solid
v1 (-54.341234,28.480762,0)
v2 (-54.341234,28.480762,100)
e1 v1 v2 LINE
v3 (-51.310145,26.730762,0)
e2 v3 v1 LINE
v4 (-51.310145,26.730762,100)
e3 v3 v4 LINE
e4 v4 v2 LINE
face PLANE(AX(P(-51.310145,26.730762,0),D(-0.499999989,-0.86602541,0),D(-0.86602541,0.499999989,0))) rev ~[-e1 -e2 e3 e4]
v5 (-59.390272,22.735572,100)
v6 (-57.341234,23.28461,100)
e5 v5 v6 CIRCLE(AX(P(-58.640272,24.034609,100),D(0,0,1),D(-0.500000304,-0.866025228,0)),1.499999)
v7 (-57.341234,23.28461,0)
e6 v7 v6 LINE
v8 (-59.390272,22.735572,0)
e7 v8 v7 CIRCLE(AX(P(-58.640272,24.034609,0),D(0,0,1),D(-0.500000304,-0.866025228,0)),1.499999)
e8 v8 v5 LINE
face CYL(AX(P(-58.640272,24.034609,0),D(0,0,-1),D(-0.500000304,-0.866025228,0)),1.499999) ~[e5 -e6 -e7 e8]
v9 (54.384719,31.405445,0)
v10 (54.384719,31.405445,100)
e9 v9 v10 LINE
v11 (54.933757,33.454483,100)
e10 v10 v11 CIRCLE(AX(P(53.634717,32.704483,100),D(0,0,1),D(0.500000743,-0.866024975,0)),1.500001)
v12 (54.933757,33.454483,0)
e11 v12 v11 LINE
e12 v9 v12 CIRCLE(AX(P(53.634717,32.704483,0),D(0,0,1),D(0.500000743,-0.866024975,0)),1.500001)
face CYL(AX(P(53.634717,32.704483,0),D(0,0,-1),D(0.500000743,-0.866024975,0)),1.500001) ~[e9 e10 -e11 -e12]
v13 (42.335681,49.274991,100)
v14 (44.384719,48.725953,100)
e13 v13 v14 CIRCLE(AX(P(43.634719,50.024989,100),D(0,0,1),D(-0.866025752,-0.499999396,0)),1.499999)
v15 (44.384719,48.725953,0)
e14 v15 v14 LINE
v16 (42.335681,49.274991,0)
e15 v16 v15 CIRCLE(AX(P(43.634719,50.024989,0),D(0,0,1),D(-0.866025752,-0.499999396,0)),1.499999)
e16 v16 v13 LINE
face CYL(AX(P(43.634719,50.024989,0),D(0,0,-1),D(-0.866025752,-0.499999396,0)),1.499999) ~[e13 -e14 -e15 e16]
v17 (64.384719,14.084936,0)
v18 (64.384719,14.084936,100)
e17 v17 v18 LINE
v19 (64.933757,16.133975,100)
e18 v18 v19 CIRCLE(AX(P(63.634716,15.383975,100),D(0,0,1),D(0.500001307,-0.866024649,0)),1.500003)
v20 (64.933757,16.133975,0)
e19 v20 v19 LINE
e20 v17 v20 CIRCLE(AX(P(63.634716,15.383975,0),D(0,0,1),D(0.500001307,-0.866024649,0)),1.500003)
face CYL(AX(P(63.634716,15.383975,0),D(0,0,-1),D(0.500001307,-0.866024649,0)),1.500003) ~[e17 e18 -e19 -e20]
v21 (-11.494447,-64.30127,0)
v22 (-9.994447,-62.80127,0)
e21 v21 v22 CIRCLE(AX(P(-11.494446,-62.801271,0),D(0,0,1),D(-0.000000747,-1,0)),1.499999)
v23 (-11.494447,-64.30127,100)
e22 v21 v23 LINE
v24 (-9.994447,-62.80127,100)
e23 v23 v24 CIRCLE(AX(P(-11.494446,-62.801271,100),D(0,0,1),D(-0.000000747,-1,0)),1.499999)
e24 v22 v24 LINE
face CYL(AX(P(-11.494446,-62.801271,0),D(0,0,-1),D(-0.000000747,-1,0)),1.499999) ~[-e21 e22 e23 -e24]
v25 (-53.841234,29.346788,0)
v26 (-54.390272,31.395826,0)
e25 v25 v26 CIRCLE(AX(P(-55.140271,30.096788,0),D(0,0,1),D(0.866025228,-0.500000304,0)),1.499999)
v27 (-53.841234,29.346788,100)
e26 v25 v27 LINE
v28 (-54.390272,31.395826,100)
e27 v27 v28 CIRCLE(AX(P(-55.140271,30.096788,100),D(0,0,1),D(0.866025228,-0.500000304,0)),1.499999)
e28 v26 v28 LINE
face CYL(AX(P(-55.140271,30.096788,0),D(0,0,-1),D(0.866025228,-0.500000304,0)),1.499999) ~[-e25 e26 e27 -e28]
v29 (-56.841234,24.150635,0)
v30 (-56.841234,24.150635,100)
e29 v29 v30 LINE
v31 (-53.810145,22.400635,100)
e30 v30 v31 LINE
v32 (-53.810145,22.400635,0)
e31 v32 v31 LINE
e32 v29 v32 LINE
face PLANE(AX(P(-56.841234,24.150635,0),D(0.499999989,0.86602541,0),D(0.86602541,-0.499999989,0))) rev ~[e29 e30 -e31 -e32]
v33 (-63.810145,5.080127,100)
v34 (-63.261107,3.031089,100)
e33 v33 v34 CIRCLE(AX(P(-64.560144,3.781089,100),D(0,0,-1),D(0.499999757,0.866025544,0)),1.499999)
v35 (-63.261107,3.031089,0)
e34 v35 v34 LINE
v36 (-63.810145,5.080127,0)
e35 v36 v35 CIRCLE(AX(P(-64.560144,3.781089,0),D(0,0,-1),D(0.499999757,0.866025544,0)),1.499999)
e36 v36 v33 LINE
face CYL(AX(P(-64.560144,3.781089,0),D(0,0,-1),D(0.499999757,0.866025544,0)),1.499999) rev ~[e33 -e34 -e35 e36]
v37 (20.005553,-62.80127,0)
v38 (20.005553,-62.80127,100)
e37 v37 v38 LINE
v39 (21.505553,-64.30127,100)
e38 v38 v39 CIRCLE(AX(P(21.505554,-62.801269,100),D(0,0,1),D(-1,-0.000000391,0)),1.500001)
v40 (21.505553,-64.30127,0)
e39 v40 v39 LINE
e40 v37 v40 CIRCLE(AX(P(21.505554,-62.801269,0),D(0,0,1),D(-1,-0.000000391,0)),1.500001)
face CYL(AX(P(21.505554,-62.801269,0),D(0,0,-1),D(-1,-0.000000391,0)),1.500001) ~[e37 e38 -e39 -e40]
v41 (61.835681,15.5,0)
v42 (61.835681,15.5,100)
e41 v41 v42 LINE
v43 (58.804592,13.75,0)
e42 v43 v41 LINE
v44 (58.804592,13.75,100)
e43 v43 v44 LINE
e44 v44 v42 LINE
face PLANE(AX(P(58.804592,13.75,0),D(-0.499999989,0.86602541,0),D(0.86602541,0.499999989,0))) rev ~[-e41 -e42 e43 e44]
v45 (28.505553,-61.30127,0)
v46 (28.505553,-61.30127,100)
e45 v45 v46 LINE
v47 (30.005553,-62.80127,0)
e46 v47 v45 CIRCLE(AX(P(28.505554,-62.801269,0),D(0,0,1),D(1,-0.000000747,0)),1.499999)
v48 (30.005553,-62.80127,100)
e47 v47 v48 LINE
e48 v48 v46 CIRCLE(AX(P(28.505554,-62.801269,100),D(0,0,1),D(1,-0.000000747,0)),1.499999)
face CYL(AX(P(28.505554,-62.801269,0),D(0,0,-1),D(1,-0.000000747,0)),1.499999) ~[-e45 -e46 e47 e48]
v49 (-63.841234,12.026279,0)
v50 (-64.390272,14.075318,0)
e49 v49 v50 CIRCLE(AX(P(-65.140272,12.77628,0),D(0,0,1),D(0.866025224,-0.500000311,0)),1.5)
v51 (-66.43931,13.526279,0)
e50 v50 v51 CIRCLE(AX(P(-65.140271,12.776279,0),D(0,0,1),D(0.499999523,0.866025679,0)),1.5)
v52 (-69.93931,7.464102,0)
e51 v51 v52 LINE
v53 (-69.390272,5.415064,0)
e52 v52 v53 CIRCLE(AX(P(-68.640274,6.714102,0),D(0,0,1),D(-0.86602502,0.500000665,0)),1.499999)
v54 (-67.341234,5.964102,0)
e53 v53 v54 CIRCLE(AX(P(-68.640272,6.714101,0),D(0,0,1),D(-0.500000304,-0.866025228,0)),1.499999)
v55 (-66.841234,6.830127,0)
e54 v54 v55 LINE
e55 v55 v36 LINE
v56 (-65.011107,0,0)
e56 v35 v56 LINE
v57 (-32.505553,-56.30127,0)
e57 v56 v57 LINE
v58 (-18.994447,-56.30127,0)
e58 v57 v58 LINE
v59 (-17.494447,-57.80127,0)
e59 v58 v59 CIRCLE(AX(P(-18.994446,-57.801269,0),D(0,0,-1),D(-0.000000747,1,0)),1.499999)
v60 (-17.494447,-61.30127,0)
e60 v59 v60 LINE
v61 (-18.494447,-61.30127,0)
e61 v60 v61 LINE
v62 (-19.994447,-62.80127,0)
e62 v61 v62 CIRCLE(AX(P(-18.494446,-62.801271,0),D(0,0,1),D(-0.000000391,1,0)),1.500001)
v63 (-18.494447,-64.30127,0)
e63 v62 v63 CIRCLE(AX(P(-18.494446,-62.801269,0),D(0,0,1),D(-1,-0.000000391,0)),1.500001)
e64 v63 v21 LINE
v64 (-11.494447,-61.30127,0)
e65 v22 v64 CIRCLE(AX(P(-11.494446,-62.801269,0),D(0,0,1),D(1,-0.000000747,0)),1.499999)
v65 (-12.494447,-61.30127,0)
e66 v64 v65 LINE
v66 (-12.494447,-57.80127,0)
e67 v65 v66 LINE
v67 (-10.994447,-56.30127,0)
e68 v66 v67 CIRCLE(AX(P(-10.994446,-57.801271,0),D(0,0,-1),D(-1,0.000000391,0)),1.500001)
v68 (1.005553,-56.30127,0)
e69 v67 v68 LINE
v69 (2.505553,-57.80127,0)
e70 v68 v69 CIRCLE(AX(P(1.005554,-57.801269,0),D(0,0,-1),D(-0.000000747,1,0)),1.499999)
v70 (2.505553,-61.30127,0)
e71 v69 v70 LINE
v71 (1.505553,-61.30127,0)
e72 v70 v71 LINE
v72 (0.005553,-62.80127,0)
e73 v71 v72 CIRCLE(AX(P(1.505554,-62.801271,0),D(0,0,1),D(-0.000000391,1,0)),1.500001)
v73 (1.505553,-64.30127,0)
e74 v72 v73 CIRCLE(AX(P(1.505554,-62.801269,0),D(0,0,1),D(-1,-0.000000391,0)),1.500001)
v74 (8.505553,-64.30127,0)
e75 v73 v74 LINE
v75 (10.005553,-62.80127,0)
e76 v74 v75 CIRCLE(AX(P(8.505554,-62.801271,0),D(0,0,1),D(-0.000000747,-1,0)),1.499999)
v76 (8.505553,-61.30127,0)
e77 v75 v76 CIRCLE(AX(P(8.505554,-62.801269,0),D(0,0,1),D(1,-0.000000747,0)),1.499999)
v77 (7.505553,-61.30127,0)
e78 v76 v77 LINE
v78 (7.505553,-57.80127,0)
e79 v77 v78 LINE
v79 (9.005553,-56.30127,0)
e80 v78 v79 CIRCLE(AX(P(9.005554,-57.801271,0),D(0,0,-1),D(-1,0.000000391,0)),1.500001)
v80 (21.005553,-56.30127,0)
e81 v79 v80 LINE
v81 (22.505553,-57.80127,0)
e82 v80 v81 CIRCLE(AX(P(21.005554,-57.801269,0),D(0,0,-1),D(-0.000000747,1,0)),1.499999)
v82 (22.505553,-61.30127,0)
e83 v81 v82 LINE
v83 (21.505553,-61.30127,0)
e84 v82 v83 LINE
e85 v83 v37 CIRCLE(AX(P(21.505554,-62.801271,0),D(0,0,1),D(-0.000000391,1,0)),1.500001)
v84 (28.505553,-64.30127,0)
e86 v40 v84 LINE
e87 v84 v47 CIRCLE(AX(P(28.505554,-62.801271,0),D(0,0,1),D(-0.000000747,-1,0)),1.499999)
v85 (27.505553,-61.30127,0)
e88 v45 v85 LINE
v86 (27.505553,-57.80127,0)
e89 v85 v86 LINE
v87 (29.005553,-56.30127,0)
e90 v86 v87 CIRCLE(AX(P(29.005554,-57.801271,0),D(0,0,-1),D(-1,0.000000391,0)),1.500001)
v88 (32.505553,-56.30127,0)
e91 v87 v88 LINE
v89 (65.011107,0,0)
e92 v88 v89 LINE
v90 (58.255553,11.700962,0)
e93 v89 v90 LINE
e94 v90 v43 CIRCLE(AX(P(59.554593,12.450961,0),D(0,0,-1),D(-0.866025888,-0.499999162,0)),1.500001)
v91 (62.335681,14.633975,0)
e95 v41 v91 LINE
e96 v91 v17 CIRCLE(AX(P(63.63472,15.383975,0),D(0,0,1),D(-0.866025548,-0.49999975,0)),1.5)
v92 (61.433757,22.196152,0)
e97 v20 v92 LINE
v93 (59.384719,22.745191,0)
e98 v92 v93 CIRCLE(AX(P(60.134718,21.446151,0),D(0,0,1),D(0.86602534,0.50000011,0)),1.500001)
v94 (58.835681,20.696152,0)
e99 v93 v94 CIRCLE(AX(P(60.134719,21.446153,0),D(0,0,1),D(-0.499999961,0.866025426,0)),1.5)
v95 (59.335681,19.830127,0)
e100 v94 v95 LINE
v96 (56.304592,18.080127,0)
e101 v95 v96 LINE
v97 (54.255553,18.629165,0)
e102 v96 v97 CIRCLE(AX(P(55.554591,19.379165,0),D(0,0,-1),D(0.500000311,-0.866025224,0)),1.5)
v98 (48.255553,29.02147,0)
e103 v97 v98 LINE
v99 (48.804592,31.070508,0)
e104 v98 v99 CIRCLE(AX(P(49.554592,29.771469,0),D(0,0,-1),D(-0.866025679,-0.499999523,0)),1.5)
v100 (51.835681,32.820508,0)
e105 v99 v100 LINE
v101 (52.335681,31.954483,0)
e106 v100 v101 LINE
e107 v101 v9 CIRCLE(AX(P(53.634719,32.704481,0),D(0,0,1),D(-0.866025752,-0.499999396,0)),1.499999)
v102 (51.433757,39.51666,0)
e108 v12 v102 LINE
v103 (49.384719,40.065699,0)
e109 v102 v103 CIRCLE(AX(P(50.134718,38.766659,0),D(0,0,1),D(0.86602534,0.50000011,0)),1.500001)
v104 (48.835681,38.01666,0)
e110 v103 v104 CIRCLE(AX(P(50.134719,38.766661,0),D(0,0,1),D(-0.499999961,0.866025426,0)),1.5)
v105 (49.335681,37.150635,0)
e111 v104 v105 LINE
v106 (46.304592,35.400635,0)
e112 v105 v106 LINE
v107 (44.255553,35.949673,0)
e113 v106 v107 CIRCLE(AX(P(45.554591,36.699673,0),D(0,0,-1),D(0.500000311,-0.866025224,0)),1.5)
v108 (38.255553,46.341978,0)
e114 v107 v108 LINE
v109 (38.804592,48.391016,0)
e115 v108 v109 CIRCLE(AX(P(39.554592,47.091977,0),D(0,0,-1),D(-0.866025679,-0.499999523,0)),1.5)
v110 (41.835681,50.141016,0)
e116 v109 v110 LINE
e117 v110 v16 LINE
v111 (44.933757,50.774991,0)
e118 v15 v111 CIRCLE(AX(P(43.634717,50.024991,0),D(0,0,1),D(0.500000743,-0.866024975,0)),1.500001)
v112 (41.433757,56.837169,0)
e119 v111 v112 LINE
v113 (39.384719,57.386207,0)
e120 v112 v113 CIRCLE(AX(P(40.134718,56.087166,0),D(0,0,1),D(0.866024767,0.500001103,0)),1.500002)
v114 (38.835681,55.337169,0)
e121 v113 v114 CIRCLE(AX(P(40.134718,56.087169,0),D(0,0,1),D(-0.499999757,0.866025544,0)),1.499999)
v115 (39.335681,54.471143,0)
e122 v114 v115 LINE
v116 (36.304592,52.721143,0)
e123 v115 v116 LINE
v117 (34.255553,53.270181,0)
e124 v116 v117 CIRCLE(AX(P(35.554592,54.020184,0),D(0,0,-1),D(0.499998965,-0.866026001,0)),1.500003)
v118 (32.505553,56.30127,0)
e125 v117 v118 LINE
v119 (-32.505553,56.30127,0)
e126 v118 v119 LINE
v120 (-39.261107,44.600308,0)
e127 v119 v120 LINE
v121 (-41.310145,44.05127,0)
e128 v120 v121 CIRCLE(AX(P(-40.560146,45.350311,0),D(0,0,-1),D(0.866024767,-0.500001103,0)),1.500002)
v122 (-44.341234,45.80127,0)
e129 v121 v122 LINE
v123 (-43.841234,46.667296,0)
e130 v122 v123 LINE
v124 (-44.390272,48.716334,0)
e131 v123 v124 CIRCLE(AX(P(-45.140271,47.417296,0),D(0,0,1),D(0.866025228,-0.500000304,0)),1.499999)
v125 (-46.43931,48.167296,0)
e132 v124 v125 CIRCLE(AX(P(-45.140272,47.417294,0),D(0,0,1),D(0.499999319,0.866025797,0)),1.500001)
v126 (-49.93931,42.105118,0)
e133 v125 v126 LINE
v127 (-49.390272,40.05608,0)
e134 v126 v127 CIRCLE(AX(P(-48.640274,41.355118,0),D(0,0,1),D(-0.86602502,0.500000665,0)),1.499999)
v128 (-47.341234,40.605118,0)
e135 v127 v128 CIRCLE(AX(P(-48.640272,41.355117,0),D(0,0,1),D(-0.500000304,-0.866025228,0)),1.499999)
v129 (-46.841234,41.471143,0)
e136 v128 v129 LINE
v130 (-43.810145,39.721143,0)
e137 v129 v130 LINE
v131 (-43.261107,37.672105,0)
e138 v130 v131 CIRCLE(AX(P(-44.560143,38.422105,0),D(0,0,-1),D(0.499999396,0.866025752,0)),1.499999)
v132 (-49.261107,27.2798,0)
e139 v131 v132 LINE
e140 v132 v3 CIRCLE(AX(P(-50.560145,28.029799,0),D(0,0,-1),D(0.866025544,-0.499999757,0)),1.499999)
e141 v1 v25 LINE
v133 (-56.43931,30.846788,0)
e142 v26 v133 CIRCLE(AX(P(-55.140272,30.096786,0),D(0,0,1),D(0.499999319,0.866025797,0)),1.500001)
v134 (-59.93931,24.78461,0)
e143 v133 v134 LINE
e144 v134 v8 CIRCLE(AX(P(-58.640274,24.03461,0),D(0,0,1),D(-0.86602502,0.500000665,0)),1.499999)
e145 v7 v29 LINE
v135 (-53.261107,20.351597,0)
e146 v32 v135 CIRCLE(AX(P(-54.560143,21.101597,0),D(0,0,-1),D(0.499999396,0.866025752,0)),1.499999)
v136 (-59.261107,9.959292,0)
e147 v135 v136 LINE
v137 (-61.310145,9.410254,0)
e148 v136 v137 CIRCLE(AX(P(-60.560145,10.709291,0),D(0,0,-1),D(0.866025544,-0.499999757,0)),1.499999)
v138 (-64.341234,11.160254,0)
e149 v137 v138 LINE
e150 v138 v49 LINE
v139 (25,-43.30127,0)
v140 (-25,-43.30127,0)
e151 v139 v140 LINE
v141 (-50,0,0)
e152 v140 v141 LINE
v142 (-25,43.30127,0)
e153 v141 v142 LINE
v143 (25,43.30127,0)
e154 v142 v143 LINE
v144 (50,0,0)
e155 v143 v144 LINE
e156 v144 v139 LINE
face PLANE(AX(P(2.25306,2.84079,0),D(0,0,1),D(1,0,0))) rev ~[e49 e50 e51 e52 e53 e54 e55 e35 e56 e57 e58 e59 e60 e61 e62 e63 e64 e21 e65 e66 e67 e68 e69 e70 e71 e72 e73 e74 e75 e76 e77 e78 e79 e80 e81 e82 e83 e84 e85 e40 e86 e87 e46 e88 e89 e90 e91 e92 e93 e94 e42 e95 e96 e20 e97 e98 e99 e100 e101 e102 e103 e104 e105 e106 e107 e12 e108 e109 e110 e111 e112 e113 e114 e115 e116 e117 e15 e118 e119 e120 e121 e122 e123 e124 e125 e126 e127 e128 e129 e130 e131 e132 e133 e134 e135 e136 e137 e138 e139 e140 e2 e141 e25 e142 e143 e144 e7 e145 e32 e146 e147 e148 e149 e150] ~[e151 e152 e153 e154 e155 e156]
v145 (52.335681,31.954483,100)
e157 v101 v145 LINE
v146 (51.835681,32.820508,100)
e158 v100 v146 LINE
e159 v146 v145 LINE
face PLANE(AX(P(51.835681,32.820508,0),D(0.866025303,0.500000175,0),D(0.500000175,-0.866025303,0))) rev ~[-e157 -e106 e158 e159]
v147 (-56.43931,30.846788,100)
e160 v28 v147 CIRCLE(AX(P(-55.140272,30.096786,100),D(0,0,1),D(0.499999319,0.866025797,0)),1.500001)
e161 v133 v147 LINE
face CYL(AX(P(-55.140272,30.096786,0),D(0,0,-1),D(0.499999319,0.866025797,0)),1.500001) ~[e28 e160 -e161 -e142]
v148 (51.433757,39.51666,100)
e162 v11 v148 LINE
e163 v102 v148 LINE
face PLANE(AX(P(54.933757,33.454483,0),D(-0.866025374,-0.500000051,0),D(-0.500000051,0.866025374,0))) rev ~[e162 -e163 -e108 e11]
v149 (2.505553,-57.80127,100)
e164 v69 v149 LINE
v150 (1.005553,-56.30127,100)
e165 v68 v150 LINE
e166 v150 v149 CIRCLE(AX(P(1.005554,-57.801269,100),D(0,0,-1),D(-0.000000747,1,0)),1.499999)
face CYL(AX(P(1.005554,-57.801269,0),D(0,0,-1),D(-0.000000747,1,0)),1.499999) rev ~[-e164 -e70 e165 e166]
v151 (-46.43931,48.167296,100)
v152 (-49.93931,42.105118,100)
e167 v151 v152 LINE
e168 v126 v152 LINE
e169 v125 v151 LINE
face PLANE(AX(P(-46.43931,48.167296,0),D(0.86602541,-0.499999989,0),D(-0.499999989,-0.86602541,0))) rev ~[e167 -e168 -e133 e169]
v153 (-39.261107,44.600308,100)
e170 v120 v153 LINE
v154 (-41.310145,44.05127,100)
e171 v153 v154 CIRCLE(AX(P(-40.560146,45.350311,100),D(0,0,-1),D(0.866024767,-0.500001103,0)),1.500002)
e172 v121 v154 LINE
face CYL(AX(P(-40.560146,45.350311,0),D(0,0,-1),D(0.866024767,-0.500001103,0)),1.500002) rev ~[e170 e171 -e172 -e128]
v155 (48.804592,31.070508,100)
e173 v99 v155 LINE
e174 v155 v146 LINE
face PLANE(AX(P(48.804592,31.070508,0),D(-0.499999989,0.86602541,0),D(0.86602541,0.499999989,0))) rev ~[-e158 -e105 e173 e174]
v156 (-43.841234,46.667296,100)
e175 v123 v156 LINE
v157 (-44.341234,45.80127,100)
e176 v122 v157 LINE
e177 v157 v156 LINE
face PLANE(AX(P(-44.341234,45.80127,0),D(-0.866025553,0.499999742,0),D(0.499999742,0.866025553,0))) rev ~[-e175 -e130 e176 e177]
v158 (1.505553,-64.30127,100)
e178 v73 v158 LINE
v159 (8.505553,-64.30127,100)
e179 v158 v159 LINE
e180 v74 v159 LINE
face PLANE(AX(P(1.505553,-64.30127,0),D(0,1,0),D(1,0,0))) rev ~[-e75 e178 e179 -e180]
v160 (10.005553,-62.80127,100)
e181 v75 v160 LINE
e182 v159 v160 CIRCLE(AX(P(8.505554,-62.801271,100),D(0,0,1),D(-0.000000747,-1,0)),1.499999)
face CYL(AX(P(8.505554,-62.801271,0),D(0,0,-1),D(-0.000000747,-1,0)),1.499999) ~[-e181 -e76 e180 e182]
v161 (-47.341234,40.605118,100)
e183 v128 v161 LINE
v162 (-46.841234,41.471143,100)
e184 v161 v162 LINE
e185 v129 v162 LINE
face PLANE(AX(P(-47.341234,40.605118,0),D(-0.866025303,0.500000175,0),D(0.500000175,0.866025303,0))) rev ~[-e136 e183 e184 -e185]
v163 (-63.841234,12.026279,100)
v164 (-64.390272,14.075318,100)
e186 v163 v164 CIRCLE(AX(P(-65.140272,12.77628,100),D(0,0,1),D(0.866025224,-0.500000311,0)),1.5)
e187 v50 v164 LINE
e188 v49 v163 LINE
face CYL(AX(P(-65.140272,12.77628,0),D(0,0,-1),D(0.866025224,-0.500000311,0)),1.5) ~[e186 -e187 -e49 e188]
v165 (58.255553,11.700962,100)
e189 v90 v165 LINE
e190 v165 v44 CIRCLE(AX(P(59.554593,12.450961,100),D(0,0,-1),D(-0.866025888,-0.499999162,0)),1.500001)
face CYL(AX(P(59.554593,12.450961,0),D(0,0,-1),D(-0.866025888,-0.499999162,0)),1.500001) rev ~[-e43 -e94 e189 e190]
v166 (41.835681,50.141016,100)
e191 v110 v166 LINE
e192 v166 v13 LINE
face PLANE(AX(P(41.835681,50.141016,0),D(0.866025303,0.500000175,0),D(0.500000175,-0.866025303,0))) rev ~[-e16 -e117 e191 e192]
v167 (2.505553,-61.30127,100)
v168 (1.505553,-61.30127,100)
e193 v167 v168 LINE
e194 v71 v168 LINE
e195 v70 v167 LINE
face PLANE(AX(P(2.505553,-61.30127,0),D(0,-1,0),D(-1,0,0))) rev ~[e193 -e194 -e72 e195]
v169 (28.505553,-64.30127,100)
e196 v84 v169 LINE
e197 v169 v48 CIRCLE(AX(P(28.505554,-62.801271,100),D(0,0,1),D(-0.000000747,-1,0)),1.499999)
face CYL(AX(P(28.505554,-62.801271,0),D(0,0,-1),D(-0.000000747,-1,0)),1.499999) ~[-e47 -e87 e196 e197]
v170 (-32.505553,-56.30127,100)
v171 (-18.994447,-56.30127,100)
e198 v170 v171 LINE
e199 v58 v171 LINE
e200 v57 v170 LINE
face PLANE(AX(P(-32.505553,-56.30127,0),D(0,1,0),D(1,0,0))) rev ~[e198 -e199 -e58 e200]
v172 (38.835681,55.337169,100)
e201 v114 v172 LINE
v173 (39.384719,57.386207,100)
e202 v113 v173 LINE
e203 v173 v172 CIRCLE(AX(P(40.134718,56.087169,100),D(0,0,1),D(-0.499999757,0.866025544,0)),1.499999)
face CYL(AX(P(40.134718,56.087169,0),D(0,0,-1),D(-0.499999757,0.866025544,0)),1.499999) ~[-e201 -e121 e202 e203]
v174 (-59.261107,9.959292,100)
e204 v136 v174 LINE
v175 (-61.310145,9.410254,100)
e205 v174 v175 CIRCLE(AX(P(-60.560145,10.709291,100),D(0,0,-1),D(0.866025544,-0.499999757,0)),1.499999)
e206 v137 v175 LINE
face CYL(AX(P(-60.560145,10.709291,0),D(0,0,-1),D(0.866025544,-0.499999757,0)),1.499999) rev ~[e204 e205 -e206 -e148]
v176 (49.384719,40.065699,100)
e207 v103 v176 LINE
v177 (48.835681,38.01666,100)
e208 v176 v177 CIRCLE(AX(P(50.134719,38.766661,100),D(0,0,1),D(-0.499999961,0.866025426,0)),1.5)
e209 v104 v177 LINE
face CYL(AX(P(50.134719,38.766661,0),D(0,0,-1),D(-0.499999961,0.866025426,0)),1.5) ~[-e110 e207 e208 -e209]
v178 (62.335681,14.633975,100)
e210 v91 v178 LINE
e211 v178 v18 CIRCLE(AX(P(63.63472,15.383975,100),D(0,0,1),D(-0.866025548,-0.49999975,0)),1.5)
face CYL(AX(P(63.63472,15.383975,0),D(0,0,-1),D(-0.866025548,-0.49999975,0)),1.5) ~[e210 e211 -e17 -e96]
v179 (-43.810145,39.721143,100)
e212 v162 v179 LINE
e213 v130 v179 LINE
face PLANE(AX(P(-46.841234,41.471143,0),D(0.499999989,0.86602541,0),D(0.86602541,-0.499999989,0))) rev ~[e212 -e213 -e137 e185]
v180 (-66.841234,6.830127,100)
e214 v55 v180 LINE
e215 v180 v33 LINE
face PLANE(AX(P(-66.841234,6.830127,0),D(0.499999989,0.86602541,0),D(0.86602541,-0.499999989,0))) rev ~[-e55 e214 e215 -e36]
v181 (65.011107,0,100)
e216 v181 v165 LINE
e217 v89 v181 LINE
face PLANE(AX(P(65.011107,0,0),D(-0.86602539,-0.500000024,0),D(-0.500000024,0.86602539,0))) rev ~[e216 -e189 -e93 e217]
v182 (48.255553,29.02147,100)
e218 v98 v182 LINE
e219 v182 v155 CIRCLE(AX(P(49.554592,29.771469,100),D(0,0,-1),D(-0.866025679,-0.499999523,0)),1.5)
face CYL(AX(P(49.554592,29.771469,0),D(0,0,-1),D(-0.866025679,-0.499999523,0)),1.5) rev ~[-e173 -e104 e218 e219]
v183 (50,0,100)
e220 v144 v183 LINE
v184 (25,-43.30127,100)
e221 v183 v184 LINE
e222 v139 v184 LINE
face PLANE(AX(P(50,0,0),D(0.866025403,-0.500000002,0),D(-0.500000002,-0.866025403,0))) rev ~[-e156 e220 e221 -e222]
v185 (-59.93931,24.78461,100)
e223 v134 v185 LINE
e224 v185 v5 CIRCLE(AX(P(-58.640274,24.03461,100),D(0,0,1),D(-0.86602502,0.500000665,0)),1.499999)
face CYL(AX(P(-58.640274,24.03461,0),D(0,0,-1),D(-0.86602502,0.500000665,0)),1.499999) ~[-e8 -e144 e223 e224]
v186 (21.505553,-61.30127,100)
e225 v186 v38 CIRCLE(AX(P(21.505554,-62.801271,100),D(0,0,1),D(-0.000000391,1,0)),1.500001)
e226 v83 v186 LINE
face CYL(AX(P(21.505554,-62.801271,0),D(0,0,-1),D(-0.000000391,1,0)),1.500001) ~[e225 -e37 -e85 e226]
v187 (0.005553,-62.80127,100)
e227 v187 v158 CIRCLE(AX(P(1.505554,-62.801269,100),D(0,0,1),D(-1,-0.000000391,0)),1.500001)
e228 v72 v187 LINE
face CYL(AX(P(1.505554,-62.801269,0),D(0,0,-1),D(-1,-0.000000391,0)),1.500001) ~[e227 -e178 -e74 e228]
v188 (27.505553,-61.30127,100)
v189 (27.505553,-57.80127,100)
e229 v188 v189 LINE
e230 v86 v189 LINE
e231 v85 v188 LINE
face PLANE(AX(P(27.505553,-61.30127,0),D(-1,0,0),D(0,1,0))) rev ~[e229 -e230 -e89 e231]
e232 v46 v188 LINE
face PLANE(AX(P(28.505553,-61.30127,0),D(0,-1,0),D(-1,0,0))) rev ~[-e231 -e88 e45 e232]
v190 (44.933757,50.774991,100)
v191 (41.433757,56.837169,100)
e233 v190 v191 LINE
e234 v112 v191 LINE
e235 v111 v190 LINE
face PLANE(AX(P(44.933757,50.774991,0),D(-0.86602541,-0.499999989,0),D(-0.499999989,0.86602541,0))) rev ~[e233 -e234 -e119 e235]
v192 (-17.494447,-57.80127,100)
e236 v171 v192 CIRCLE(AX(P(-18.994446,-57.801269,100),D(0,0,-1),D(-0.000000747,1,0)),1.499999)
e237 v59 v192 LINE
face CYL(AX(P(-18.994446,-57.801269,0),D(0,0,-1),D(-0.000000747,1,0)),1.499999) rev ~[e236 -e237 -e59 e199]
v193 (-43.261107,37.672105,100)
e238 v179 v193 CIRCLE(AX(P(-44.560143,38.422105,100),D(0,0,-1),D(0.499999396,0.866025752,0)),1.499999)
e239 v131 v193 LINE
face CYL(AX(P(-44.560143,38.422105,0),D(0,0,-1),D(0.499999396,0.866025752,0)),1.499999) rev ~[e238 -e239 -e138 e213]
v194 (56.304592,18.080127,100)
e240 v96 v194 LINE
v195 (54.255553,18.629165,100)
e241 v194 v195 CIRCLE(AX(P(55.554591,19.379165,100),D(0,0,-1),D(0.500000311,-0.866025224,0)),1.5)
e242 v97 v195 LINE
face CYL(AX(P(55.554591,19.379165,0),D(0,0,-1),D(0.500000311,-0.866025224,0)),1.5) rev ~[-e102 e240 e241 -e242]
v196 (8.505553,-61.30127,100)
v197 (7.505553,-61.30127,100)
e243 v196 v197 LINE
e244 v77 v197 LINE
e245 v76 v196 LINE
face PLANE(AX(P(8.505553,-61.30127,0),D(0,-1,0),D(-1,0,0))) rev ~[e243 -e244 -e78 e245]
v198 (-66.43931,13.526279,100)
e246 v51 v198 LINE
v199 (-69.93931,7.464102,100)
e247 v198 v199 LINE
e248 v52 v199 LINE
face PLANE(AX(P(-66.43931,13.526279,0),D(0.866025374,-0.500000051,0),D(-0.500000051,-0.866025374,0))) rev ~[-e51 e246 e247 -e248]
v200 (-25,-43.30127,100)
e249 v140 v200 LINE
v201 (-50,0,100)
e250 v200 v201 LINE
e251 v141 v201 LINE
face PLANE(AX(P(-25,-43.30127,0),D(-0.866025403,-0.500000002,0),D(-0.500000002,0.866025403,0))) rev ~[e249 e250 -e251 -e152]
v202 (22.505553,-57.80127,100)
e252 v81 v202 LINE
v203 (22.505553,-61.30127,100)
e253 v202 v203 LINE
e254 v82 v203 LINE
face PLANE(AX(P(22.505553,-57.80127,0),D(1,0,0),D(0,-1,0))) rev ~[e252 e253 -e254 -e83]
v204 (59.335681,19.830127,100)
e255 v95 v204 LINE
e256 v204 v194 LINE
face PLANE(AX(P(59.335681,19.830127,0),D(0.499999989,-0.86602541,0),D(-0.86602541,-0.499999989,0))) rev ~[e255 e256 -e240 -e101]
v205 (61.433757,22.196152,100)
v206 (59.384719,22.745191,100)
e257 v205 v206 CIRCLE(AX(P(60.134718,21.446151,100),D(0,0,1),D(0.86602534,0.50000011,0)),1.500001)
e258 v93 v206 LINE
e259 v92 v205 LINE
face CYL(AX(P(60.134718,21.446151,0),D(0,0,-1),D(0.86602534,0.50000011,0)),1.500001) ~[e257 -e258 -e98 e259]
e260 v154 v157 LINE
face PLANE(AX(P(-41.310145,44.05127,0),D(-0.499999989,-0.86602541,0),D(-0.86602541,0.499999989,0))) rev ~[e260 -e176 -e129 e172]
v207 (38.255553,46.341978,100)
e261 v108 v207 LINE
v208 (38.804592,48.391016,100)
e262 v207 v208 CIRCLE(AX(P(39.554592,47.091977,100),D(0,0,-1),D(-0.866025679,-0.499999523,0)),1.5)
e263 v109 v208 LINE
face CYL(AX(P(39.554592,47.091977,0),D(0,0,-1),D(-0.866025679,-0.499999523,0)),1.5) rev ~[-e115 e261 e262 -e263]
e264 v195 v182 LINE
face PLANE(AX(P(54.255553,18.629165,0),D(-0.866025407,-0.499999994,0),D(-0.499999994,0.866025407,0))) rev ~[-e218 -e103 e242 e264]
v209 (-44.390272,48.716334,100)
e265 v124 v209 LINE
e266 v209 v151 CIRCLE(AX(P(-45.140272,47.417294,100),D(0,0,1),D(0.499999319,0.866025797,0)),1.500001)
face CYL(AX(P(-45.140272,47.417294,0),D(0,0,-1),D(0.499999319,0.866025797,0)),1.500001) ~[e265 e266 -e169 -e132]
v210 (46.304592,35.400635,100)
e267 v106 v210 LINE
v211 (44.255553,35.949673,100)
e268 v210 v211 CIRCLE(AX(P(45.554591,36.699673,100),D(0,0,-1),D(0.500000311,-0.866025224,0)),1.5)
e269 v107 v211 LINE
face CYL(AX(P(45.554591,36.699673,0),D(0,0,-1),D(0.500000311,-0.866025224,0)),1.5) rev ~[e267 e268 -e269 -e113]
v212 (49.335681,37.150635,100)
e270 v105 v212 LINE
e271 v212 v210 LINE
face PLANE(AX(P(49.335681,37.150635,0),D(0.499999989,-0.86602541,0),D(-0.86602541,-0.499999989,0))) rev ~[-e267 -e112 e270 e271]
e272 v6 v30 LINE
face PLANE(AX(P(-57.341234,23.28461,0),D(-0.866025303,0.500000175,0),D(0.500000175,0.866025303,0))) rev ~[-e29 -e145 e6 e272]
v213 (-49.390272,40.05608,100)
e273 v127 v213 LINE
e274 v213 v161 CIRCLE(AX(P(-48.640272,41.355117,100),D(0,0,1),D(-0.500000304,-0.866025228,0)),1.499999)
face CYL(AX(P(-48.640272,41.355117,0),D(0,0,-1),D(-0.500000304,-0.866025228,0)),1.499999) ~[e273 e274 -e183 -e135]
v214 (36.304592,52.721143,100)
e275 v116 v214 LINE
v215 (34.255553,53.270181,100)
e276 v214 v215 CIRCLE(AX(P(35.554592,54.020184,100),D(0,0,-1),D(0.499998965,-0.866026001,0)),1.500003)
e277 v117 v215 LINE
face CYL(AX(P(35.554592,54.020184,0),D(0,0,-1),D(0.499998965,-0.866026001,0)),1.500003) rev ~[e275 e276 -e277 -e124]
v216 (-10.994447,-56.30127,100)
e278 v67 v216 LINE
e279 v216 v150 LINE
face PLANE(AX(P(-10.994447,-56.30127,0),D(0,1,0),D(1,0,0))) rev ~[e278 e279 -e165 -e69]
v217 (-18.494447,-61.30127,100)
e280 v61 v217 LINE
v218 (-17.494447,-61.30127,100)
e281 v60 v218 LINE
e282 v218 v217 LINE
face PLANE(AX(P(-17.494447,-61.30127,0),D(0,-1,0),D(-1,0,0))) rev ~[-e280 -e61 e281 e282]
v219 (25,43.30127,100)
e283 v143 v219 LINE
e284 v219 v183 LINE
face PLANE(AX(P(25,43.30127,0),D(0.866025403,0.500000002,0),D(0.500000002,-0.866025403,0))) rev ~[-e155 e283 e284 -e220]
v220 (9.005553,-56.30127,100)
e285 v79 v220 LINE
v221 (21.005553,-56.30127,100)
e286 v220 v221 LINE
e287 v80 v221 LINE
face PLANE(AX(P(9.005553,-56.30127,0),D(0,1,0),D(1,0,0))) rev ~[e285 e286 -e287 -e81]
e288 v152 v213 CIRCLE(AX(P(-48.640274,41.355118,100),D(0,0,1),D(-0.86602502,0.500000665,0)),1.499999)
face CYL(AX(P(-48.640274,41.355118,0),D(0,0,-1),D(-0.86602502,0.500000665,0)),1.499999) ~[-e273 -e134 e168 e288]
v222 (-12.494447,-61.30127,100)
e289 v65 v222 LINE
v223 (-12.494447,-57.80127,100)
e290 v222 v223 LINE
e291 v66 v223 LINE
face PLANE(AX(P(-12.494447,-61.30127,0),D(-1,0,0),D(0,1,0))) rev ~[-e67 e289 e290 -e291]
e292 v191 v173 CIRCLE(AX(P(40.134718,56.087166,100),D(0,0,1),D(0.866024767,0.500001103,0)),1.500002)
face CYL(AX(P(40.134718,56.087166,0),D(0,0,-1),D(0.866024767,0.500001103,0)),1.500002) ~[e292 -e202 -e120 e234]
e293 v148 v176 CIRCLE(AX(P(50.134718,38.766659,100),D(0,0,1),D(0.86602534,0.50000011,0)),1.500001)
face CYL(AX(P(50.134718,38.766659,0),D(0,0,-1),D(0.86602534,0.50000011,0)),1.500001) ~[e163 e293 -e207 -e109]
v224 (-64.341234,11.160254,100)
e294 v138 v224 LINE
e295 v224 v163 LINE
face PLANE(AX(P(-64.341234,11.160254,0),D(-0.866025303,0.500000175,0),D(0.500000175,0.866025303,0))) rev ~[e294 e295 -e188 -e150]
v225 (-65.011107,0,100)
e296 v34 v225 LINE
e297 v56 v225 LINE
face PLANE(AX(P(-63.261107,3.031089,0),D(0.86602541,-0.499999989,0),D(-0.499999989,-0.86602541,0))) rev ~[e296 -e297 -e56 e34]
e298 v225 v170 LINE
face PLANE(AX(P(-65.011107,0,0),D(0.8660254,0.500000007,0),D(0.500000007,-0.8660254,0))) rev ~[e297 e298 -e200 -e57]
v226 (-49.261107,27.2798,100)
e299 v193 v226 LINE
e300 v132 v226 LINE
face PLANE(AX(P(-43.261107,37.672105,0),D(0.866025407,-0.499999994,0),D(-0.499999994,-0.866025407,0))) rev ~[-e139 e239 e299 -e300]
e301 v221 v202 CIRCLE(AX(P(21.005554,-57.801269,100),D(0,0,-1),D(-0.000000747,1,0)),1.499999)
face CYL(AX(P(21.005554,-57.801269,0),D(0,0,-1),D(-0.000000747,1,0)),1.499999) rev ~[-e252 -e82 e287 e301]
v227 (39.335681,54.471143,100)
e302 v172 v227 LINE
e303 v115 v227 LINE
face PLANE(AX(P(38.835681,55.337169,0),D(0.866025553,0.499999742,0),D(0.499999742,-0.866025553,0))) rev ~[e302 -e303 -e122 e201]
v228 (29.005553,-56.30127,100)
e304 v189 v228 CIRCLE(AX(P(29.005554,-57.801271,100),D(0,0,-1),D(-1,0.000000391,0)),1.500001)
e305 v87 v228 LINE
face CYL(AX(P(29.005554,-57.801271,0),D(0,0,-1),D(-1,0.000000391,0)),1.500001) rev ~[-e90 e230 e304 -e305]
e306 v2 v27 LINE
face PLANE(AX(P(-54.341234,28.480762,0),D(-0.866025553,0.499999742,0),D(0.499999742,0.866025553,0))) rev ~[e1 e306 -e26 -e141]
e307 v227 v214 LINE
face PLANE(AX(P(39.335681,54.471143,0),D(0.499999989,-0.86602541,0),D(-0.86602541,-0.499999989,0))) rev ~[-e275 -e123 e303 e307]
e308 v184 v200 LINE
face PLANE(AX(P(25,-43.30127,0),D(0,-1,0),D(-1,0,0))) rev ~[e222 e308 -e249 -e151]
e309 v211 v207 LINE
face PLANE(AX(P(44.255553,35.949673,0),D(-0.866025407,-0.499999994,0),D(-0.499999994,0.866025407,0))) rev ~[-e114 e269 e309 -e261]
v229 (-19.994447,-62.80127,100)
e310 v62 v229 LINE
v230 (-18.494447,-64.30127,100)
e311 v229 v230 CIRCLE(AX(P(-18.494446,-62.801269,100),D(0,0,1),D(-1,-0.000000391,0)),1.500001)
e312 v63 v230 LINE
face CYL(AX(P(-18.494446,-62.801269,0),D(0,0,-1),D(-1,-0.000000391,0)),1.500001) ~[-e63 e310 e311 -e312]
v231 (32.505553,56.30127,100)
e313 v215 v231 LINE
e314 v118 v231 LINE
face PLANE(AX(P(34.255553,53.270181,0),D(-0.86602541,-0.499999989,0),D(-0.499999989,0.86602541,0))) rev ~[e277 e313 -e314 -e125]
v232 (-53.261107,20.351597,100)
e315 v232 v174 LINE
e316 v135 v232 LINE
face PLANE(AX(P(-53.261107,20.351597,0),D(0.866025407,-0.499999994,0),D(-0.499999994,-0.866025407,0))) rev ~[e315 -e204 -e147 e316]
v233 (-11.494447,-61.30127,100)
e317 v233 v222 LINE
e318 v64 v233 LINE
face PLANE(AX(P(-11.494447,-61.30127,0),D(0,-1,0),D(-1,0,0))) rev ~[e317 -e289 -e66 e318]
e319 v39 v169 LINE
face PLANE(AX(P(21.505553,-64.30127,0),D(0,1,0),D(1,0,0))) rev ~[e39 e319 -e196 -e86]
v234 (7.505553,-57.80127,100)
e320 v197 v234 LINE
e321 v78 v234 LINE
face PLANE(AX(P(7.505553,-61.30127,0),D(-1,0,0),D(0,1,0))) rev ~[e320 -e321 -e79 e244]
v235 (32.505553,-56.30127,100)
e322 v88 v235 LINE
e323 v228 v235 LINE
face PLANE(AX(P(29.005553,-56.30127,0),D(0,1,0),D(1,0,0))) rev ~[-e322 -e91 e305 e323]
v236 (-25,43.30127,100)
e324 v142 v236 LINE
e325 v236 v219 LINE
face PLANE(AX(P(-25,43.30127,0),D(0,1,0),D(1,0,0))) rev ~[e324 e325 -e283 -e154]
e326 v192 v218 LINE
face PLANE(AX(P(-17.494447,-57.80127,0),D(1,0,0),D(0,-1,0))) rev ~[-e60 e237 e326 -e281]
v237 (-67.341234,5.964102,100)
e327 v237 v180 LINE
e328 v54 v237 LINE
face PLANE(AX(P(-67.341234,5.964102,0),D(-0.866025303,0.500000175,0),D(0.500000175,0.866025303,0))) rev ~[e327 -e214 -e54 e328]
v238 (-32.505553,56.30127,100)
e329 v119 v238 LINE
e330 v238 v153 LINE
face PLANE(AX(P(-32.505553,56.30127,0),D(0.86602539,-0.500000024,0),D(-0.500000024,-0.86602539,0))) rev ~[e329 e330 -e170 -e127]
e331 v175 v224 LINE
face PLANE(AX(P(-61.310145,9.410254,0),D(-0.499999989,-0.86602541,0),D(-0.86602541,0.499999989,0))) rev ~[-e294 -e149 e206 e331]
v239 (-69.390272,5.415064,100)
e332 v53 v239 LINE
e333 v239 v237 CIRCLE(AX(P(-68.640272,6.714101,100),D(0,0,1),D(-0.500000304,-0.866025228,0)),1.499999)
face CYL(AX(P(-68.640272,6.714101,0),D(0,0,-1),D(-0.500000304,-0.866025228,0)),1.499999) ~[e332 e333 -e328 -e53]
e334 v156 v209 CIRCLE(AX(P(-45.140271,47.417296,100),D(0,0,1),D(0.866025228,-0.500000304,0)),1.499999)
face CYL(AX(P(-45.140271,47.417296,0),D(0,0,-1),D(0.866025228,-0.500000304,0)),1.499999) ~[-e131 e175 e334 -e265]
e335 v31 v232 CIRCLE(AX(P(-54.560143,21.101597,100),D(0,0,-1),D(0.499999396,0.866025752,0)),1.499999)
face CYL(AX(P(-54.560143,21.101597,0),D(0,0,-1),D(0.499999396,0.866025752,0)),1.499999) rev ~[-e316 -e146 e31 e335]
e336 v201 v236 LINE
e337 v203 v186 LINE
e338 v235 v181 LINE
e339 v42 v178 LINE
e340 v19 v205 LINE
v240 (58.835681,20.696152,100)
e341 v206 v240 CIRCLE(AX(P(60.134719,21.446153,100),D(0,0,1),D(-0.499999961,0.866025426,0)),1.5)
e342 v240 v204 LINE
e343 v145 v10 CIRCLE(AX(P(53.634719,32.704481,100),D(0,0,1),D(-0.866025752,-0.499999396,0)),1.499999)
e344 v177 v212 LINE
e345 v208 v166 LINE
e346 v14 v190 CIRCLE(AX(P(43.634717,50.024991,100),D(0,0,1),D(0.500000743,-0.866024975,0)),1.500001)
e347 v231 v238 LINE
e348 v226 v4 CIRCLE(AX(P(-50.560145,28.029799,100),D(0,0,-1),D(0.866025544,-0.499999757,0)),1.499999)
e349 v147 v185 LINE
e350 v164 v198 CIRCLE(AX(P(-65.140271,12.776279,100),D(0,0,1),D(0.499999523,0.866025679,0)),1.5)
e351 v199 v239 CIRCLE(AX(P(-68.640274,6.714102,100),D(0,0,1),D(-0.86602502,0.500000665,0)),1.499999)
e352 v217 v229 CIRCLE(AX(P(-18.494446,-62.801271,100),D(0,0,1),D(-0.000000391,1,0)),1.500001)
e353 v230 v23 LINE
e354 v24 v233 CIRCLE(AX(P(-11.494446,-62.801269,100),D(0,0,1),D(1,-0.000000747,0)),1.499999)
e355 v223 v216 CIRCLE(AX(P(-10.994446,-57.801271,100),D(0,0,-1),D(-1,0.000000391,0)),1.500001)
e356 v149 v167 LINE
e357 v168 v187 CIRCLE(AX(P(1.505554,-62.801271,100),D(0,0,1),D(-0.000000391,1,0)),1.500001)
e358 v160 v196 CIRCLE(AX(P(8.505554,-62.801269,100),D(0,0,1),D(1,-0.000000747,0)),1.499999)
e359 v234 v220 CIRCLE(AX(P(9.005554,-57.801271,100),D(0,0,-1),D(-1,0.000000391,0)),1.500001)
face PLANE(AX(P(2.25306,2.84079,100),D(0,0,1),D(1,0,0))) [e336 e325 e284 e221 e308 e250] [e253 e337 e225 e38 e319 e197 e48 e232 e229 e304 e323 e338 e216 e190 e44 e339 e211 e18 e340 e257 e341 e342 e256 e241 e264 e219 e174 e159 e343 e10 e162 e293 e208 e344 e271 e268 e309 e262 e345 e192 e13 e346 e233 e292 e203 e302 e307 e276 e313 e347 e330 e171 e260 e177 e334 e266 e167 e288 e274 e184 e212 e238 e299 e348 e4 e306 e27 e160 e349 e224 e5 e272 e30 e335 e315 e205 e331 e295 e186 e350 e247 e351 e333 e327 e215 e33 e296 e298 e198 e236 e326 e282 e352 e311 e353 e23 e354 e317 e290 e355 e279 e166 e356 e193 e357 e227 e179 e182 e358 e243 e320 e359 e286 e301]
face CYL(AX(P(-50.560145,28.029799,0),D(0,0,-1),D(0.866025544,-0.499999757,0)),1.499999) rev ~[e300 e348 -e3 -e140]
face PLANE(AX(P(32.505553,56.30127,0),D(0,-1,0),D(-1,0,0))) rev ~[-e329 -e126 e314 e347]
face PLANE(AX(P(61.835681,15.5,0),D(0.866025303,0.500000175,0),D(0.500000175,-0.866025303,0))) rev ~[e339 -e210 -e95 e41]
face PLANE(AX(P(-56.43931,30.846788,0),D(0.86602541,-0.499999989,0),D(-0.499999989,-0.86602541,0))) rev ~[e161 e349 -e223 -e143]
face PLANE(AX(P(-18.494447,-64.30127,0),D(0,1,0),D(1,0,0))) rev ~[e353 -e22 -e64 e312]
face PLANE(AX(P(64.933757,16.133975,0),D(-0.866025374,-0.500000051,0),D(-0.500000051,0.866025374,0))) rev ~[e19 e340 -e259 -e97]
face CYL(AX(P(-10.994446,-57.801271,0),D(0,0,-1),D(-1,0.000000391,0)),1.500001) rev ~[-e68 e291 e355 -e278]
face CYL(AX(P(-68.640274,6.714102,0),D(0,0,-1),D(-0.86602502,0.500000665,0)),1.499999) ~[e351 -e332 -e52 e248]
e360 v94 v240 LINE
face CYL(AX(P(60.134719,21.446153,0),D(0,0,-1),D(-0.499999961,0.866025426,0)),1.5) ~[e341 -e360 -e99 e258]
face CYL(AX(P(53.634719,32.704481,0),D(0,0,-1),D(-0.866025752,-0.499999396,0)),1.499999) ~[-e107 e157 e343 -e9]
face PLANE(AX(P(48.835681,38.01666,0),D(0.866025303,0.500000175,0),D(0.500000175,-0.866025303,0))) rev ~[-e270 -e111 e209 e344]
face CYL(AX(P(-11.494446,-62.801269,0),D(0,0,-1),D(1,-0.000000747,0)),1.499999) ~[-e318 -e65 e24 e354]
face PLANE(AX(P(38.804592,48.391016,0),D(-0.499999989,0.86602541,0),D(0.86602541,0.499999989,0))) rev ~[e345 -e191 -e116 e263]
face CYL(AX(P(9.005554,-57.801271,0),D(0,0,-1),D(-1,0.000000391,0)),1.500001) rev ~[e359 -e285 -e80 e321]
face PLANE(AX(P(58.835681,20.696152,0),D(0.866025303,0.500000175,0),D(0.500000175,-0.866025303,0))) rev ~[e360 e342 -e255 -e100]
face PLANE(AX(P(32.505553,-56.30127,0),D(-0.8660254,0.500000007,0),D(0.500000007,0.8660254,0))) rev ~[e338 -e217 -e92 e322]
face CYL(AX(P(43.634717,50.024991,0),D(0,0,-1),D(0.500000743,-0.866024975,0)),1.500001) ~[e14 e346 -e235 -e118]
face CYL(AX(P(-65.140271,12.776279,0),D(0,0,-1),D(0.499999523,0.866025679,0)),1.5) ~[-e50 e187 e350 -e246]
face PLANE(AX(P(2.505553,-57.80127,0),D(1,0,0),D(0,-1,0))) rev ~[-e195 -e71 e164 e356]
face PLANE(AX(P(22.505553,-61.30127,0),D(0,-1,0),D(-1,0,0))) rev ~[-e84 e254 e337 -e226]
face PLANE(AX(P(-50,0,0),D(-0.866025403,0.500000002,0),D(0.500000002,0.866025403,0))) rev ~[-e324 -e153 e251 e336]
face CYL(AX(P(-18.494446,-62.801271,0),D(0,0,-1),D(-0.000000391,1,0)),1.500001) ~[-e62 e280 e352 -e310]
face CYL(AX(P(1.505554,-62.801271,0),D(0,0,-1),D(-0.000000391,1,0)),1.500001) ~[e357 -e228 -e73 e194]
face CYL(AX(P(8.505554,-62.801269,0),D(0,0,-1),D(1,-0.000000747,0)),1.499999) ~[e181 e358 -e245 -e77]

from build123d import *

# Parameters (mm, degrees)
F1_DEPTH = 100


with BuildPart() as f1:
    # F0 (on Top) → F1 (new body)
    with BuildSketch(Plane.XY):
        with BuildLine():
            Line((-63.261107, 3.031089), (-65.011107, 0))
            Line((-65.011107, 0), (-32.505553, -56.30127))
            Line((-32.505553, -56.30127), (-18.994447, -56.30127))
            Line((-18.994447, -56.30127), (-10.994447, -56.30127))
            Line((-10.994447, -56.30127), (1.005553, -56.30127))
            Line((1.005553, -56.30127), (9.005553, -56.30127))
            Line((9.005553, -56.30127), (21.005553, -56.30127))
            Line((21.005553, -56.30127), (29.005553, -56.30127))
            Line((29.005553, -56.30127), (32.505553, -56.30127))
            Line((32.505553, -56.30127), (65.011107, 0))
            Line((65.011107, 0), (58.255553, 11.700962))
            Line((58.255553, 11.700962), (54.255553, 18.629165))
            Line((54.255553, 18.629165), (48.255553, 29.02147))
            Line((48.255553, 29.02147), (44.255553, 35.949673))
            Line((44.255553, 35.949673), (38.255553, 46.341978))
            ThreePointArc((38.255553, 46.341978), (38.105703, 47.480207), (38.804592, 48.391016))
            Line((38.804592, 48.391016), (41.835681, 50.141016))
            Line((41.835681, 50.141016), (42.335681, 49.274991))
            ThreePointArc((42.335681, 49.274991), (43.24649, 48.576102), (44.384719, 48.725953))
            ThreePointArc((44.384719, 48.725953), (45.083607, 49.636762), (44.933757, 50.774991))
            Line((44.933757, 50.774991), (41.433757, 56.837169))
            ThreePointArc((41.433757, 56.837169), (40.522947, 57.536057), (39.384719, 57.386207))
            ThreePointArc((39.384719, 57.386207), (38.68583, 56.475397), (38.835681, 55.337169))
            Line((38.835681, 55.337169), (39.335681, 54.471143))
            Line((39.335681, 54.471143), (36.304592, 52.721143))
            ThreePointArc((36.304592, 52.721143), (35.166363, 52.571293), (34.255553, 53.270181))
            Line((34.255553, 53.270181), (32.505553, 56.30127))
            Line((32.505553, 56.30127), (-32.505553, 56.30127))
            Line((-32.505553, 56.30127), (-39.261107, 44.600308))
            Line((-39.261107, 44.600308), (-43.261107, 37.672105))
            Line((-43.261107, 37.672105), (-49.261107, 27.2798))
            Line((-49.261107, 27.2798), (-53.261107, 20.351597))
            Line((-53.261107, 20.351597), (-59.261107, 9.959292))
            Line((-59.261107, 9.959292), (-63.261107, 3.031089))
        make_face()
        Polygon((-50, 0), (-25, 43.30127), (25, 43.30127), (50, 0), (25, -43.30127), (-25, -43.30127), align=None, mode=Mode.SUBTRACT)
        with BuildLine():
            ThreePointArc((-63.810145, 5.080127), (-63.111256, 4.169317), (-63.261107, 3.031089))
            Line((-63.261107, 3.031089), (-59.261107, 9.959292))
            ThreePointArc((-59.261107, 9.959292), (-60.171917, 9.260403), (-61.310145, 9.410254))
            Line((-61.310145, 9.410254), (-64.341234, 11.160254))
            Line((-64.341234, 11.160254), (-63.841234, 12.026279))
            ThreePointArc((-63.841234, 12.026279), (-63.691383, 13.164508), (-64.390272, 14.075318))
            ThreePointArc((-64.390272, 14.075318), (-65.528501, 14.225168), (-66.43931, 13.526279))
            Line((-66.43931, 13.526279), (-69.93931, 7.464102))
            ThreePointArc((-69.93931, 7.464102), (-70.089161, 6.325873), (-69.390272, 5.415064))
            ThreePointArc((-69.390272, 5.415064), (-68.252044, 5.265213), (-67.341234, 5.964102))
            Line((-67.341234, 5.964102), (-66.841234, 6.830127))
            Line((-66.841234, 6.830127), (-63.810145, 5.080127))
        make_face()
        with BuildLine():
            Line((-10.994447, -56.30127), (-18.994447, -56.30127))
            ThreePointArc((-18.994447, -56.30127), (-17.933786, -56.74061), (-17.494447, -57.80127))
            Line((-17.494447, -57.80127), (-17.494447, -61.30127))
            Line((-17.494447, -61.30127), (-18.494447, -61.30127))
            ThreePointArc((-18.494447, -61.30127), (-19.555107, -61.74061), (-19.994447, -62.80127))
            ThreePointArc((-19.994447, -62.80127), (-19.555107, -63.86193), (-18.494447, -64.30127))
            Line((-18.494447, -64.30127), (-11.494447, -64.30127))
            ThreePointArc((-11.494447, -64.30127), (-10.433786, -63.86193), (-9.994447, -62.80127))
            ThreePointArc((-9.994447, -62.80127), (-10.433786, -61.74061), (-11.494447, -61.30127))
            Line((-11.494447, -61.30127), (-12.494447, -61.30127))
            Line((-12.494447, -61.30127), (-12.494447, -57.80127))
            ThreePointArc((-12.494447, -57.80127), (-12.055107, -56.74061), (-10.994447, -56.30127))
        make_face()
        with BuildLine():
            ThreePointArc((-53.810145, 22.400635), (-53.111256, 21.489826), (-53.261107, 20.351597))
            Line((-53.261107, 20.351597), (-49.261107, 27.2798))
            ThreePointArc((-49.261107, 27.2798), (-50.171917, 26.580911), (-51.310145, 26.730762))
            Line((-51.310145, 26.730762), (-54.341234, 28.480762))
            Line((-54.341234, 28.480762), (-53.841234, 29.346788))
            ThreePointArc((-53.841234, 29.346788), (-53.691383, 30.485016), (-54.390272, 31.395826))
            ThreePointArc((-54.390272, 31.395826), (-55.528501, 31.545676), (-56.43931, 30.846788))
            Line((-56.43931, 30.846788), (-59.93931, 24.78461))
            ThreePointArc((-59.93931, 24.78461), (-60.089161, 23.646381), (-59.390272, 22.735572))
            ThreePointArc((-59.390272, 22.735572), (-58.252044, 22.585721), (-57.341234, 23.28461))
            Line((-57.341234, 23.28461), (-56.841234, 24.150635))
            Line((-56.841234, 24.150635), (-53.810145, 22.400635))
        make_face()
        with BuildLine():
            Line((9.005553, -56.30127), (1.005553, -56.30127))
            ThreePointArc((1.005553, -56.30127), (2.066214, -56.74061), (2.505553, -57.80127))
            Line((2.505553, -57.80127), (2.505553, -61.30127))
            Line((2.505553, -61.30127), (1.505553, -61.30127))
            ThreePointArc((1.505553, -61.30127), (0.444893, -61.74061), (0.005553, -62.80127))
            ThreePointArc((0.005553, -62.80127), (0.444893, -63.86193), (1.505553, -64.30127))
            Line((1.505553, -64.30127), (8.505553, -64.30127))
            ThreePointArc((8.505553, -64.30127), (9.566214, -63.86193), (10.005553, -62.80127))
            ThreePointArc((10.005553, -62.80127), (9.566214, -61.74061), (8.505553, -61.30127))
            Line((8.505553, -61.30127), (7.505553, -61.30127))
            Line((7.505553, -61.30127), (7.505553, -57.80127))
            ThreePointArc((7.505553, -57.80127), (7.944893, -56.74061), (9.005553, -56.30127))
        make_face()
        with BuildLine():
            ThreePointArc((-43.810145, 39.721143), (-43.111256, 38.810334), (-43.261107, 37.672105))
            Line((-43.261107, 37.672105), (-39.261107, 44.600308))
            ThreePointArc((-39.261107, 44.600308), (-40.171917, 43.90142), (-41.310145, 44.05127))
            Line((-41.310145, 44.05127), (-44.341234, 45.80127))
            Line((-44.341234, 45.80127), (-43.841234, 46.667296))
            ThreePointArc((-43.841234, 46.667296), (-43.691383, 47.805524), (-44.390272, 48.716334))
            ThreePointArc((-44.390272, 48.716334), (-45.528501, 48.866184), (-46.43931, 48.167296))
            Line((-46.43931, 48.167296), (-49.93931, 42.105118))
            ThreePointArc((-49.93931, 42.105118), (-50.089161, 40.966889), (-49.390272, 40.05608))
            ThreePointArc((-49.390272, 40.05608), (-48.252044, 39.906229), (-47.341234, 40.605118))
            Line((-47.341234, 40.605118), (-46.841234, 41.471143))
            Line((-46.841234, 41.471143), (-43.810145, 39.721143))
        make_face()
        with BuildLine():
            Line((29.005553, -56.30127), (21.005553, -56.30127))
            ThreePointArc((21.005553, -56.30127), (22.066214, -56.74061), (22.505553, -57.80127))
            Line((22.505553, -57.80127), (22.505553, -61.30127))
            Line((22.505553, -61.30127), (21.505553, -61.30127))
            ThreePointArc((21.505553, -61.30127), (20.444893, -61.74061), (20.005553, -62.80127))
            ThreePointArc((20.005553, -62.80127), (20.444893, -63.86193), (21.505553, -64.30127))
            Line((21.505553, -64.30127), (28.505553, -64.30127))
            ThreePointArc((28.505553, -64.30127), (29.566214, -63.86193), (30.005553, -62.80127))
            ThreePointArc((30.005553, -62.80127), (29.566214, -61.74061), (28.505553, -61.30127))
            Line((28.505553, -61.30127), (27.505553, -61.30127))
            Line((27.505553, -61.30127), (27.505553, -57.80127))
            ThreePointArc((27.505553, -57.80127), (27.944893, -56.74061), (29.005553, -56.30127))
        make_face()
        with BuildLine():
            Line((54.255553, 18.629165), (58.255553, 11.700962))
            ThreePointArc((58.255553, 11.700962), (58.105703, 12.83919), (58.804592, 13.75))
            Line((58.804592, 13.75), (61.835681, 15.5))
            Line((61.835681, 15.5), (62.335681, 14.633975))
            ThreePointArc((62.335681, 14.633975), (63.24649, 13.935086), (64.384719, 14.084936))
            ThreePointArc((64.384719, 14.084936), (65.083607, 14.995746), (64.933757, 16.133975))
            Line((64.933757, 16.133975), (61.433757, 22.196152))
            ThreePointArc((61.433757, 22.196152), (60.522947, 22.895041), (59.384719, 22.745191))
            ThreePointArc((59.384719, 22.745191), (58.68583, 21.834381), (58.835681, 20.696152))
            Line((58.835681, 20.696152), (59.335681, 19.830127))
            Line((59.335681, 19.830127), (56.304592, 18.080127))
            ThreePointArc((56.304592, 18.080127), (55.166363, 17.930276), (54.255553, 18.629165))
        make_face()
        with BuildLine():
            Line((44.255553, 35.949673), (48.255553, 29.02147))
            ThreePointArc((48.255553, 29.02147), (48.105703, 30.159699), (48.804592, 31.070508))
            Line((48.804592, 31.070508), (51.835681, 32.820508))
            Line((51.835681, 32.820508), (52.335681, 31.954483))
            ThreePointArc((52.335681, 31.954483), (53.24649, 31.255594), (54.384719, 31.405445))
            ThreePointArc((54.384719, 31.405445), (55.083607, 32.316254), (54.933757, 33.454483))
            Line((54.933757, 33.454483), (51.433757, 39.51666))
            ThreePointArc((51.433757, 39.51666), (50.522947, 40.215549), (49.384719, 40.065699))
            ThreePointArc((49.384719, 40.065699), (48.68583, 39.154889), (48.835681, 38.01666))
            Line((48.835681, 38.01666), (49.335681, 37.150635))
            Line((49.335681, 37.150635), (46.304592, 35.400635))
            ThreePointArc((46.304592, 35.400635), (45.166363, 35.250784), (44.255553, 35.949673))
        make_face()
    extrude(amount=F1_DEPTH)


solid = f1.part
